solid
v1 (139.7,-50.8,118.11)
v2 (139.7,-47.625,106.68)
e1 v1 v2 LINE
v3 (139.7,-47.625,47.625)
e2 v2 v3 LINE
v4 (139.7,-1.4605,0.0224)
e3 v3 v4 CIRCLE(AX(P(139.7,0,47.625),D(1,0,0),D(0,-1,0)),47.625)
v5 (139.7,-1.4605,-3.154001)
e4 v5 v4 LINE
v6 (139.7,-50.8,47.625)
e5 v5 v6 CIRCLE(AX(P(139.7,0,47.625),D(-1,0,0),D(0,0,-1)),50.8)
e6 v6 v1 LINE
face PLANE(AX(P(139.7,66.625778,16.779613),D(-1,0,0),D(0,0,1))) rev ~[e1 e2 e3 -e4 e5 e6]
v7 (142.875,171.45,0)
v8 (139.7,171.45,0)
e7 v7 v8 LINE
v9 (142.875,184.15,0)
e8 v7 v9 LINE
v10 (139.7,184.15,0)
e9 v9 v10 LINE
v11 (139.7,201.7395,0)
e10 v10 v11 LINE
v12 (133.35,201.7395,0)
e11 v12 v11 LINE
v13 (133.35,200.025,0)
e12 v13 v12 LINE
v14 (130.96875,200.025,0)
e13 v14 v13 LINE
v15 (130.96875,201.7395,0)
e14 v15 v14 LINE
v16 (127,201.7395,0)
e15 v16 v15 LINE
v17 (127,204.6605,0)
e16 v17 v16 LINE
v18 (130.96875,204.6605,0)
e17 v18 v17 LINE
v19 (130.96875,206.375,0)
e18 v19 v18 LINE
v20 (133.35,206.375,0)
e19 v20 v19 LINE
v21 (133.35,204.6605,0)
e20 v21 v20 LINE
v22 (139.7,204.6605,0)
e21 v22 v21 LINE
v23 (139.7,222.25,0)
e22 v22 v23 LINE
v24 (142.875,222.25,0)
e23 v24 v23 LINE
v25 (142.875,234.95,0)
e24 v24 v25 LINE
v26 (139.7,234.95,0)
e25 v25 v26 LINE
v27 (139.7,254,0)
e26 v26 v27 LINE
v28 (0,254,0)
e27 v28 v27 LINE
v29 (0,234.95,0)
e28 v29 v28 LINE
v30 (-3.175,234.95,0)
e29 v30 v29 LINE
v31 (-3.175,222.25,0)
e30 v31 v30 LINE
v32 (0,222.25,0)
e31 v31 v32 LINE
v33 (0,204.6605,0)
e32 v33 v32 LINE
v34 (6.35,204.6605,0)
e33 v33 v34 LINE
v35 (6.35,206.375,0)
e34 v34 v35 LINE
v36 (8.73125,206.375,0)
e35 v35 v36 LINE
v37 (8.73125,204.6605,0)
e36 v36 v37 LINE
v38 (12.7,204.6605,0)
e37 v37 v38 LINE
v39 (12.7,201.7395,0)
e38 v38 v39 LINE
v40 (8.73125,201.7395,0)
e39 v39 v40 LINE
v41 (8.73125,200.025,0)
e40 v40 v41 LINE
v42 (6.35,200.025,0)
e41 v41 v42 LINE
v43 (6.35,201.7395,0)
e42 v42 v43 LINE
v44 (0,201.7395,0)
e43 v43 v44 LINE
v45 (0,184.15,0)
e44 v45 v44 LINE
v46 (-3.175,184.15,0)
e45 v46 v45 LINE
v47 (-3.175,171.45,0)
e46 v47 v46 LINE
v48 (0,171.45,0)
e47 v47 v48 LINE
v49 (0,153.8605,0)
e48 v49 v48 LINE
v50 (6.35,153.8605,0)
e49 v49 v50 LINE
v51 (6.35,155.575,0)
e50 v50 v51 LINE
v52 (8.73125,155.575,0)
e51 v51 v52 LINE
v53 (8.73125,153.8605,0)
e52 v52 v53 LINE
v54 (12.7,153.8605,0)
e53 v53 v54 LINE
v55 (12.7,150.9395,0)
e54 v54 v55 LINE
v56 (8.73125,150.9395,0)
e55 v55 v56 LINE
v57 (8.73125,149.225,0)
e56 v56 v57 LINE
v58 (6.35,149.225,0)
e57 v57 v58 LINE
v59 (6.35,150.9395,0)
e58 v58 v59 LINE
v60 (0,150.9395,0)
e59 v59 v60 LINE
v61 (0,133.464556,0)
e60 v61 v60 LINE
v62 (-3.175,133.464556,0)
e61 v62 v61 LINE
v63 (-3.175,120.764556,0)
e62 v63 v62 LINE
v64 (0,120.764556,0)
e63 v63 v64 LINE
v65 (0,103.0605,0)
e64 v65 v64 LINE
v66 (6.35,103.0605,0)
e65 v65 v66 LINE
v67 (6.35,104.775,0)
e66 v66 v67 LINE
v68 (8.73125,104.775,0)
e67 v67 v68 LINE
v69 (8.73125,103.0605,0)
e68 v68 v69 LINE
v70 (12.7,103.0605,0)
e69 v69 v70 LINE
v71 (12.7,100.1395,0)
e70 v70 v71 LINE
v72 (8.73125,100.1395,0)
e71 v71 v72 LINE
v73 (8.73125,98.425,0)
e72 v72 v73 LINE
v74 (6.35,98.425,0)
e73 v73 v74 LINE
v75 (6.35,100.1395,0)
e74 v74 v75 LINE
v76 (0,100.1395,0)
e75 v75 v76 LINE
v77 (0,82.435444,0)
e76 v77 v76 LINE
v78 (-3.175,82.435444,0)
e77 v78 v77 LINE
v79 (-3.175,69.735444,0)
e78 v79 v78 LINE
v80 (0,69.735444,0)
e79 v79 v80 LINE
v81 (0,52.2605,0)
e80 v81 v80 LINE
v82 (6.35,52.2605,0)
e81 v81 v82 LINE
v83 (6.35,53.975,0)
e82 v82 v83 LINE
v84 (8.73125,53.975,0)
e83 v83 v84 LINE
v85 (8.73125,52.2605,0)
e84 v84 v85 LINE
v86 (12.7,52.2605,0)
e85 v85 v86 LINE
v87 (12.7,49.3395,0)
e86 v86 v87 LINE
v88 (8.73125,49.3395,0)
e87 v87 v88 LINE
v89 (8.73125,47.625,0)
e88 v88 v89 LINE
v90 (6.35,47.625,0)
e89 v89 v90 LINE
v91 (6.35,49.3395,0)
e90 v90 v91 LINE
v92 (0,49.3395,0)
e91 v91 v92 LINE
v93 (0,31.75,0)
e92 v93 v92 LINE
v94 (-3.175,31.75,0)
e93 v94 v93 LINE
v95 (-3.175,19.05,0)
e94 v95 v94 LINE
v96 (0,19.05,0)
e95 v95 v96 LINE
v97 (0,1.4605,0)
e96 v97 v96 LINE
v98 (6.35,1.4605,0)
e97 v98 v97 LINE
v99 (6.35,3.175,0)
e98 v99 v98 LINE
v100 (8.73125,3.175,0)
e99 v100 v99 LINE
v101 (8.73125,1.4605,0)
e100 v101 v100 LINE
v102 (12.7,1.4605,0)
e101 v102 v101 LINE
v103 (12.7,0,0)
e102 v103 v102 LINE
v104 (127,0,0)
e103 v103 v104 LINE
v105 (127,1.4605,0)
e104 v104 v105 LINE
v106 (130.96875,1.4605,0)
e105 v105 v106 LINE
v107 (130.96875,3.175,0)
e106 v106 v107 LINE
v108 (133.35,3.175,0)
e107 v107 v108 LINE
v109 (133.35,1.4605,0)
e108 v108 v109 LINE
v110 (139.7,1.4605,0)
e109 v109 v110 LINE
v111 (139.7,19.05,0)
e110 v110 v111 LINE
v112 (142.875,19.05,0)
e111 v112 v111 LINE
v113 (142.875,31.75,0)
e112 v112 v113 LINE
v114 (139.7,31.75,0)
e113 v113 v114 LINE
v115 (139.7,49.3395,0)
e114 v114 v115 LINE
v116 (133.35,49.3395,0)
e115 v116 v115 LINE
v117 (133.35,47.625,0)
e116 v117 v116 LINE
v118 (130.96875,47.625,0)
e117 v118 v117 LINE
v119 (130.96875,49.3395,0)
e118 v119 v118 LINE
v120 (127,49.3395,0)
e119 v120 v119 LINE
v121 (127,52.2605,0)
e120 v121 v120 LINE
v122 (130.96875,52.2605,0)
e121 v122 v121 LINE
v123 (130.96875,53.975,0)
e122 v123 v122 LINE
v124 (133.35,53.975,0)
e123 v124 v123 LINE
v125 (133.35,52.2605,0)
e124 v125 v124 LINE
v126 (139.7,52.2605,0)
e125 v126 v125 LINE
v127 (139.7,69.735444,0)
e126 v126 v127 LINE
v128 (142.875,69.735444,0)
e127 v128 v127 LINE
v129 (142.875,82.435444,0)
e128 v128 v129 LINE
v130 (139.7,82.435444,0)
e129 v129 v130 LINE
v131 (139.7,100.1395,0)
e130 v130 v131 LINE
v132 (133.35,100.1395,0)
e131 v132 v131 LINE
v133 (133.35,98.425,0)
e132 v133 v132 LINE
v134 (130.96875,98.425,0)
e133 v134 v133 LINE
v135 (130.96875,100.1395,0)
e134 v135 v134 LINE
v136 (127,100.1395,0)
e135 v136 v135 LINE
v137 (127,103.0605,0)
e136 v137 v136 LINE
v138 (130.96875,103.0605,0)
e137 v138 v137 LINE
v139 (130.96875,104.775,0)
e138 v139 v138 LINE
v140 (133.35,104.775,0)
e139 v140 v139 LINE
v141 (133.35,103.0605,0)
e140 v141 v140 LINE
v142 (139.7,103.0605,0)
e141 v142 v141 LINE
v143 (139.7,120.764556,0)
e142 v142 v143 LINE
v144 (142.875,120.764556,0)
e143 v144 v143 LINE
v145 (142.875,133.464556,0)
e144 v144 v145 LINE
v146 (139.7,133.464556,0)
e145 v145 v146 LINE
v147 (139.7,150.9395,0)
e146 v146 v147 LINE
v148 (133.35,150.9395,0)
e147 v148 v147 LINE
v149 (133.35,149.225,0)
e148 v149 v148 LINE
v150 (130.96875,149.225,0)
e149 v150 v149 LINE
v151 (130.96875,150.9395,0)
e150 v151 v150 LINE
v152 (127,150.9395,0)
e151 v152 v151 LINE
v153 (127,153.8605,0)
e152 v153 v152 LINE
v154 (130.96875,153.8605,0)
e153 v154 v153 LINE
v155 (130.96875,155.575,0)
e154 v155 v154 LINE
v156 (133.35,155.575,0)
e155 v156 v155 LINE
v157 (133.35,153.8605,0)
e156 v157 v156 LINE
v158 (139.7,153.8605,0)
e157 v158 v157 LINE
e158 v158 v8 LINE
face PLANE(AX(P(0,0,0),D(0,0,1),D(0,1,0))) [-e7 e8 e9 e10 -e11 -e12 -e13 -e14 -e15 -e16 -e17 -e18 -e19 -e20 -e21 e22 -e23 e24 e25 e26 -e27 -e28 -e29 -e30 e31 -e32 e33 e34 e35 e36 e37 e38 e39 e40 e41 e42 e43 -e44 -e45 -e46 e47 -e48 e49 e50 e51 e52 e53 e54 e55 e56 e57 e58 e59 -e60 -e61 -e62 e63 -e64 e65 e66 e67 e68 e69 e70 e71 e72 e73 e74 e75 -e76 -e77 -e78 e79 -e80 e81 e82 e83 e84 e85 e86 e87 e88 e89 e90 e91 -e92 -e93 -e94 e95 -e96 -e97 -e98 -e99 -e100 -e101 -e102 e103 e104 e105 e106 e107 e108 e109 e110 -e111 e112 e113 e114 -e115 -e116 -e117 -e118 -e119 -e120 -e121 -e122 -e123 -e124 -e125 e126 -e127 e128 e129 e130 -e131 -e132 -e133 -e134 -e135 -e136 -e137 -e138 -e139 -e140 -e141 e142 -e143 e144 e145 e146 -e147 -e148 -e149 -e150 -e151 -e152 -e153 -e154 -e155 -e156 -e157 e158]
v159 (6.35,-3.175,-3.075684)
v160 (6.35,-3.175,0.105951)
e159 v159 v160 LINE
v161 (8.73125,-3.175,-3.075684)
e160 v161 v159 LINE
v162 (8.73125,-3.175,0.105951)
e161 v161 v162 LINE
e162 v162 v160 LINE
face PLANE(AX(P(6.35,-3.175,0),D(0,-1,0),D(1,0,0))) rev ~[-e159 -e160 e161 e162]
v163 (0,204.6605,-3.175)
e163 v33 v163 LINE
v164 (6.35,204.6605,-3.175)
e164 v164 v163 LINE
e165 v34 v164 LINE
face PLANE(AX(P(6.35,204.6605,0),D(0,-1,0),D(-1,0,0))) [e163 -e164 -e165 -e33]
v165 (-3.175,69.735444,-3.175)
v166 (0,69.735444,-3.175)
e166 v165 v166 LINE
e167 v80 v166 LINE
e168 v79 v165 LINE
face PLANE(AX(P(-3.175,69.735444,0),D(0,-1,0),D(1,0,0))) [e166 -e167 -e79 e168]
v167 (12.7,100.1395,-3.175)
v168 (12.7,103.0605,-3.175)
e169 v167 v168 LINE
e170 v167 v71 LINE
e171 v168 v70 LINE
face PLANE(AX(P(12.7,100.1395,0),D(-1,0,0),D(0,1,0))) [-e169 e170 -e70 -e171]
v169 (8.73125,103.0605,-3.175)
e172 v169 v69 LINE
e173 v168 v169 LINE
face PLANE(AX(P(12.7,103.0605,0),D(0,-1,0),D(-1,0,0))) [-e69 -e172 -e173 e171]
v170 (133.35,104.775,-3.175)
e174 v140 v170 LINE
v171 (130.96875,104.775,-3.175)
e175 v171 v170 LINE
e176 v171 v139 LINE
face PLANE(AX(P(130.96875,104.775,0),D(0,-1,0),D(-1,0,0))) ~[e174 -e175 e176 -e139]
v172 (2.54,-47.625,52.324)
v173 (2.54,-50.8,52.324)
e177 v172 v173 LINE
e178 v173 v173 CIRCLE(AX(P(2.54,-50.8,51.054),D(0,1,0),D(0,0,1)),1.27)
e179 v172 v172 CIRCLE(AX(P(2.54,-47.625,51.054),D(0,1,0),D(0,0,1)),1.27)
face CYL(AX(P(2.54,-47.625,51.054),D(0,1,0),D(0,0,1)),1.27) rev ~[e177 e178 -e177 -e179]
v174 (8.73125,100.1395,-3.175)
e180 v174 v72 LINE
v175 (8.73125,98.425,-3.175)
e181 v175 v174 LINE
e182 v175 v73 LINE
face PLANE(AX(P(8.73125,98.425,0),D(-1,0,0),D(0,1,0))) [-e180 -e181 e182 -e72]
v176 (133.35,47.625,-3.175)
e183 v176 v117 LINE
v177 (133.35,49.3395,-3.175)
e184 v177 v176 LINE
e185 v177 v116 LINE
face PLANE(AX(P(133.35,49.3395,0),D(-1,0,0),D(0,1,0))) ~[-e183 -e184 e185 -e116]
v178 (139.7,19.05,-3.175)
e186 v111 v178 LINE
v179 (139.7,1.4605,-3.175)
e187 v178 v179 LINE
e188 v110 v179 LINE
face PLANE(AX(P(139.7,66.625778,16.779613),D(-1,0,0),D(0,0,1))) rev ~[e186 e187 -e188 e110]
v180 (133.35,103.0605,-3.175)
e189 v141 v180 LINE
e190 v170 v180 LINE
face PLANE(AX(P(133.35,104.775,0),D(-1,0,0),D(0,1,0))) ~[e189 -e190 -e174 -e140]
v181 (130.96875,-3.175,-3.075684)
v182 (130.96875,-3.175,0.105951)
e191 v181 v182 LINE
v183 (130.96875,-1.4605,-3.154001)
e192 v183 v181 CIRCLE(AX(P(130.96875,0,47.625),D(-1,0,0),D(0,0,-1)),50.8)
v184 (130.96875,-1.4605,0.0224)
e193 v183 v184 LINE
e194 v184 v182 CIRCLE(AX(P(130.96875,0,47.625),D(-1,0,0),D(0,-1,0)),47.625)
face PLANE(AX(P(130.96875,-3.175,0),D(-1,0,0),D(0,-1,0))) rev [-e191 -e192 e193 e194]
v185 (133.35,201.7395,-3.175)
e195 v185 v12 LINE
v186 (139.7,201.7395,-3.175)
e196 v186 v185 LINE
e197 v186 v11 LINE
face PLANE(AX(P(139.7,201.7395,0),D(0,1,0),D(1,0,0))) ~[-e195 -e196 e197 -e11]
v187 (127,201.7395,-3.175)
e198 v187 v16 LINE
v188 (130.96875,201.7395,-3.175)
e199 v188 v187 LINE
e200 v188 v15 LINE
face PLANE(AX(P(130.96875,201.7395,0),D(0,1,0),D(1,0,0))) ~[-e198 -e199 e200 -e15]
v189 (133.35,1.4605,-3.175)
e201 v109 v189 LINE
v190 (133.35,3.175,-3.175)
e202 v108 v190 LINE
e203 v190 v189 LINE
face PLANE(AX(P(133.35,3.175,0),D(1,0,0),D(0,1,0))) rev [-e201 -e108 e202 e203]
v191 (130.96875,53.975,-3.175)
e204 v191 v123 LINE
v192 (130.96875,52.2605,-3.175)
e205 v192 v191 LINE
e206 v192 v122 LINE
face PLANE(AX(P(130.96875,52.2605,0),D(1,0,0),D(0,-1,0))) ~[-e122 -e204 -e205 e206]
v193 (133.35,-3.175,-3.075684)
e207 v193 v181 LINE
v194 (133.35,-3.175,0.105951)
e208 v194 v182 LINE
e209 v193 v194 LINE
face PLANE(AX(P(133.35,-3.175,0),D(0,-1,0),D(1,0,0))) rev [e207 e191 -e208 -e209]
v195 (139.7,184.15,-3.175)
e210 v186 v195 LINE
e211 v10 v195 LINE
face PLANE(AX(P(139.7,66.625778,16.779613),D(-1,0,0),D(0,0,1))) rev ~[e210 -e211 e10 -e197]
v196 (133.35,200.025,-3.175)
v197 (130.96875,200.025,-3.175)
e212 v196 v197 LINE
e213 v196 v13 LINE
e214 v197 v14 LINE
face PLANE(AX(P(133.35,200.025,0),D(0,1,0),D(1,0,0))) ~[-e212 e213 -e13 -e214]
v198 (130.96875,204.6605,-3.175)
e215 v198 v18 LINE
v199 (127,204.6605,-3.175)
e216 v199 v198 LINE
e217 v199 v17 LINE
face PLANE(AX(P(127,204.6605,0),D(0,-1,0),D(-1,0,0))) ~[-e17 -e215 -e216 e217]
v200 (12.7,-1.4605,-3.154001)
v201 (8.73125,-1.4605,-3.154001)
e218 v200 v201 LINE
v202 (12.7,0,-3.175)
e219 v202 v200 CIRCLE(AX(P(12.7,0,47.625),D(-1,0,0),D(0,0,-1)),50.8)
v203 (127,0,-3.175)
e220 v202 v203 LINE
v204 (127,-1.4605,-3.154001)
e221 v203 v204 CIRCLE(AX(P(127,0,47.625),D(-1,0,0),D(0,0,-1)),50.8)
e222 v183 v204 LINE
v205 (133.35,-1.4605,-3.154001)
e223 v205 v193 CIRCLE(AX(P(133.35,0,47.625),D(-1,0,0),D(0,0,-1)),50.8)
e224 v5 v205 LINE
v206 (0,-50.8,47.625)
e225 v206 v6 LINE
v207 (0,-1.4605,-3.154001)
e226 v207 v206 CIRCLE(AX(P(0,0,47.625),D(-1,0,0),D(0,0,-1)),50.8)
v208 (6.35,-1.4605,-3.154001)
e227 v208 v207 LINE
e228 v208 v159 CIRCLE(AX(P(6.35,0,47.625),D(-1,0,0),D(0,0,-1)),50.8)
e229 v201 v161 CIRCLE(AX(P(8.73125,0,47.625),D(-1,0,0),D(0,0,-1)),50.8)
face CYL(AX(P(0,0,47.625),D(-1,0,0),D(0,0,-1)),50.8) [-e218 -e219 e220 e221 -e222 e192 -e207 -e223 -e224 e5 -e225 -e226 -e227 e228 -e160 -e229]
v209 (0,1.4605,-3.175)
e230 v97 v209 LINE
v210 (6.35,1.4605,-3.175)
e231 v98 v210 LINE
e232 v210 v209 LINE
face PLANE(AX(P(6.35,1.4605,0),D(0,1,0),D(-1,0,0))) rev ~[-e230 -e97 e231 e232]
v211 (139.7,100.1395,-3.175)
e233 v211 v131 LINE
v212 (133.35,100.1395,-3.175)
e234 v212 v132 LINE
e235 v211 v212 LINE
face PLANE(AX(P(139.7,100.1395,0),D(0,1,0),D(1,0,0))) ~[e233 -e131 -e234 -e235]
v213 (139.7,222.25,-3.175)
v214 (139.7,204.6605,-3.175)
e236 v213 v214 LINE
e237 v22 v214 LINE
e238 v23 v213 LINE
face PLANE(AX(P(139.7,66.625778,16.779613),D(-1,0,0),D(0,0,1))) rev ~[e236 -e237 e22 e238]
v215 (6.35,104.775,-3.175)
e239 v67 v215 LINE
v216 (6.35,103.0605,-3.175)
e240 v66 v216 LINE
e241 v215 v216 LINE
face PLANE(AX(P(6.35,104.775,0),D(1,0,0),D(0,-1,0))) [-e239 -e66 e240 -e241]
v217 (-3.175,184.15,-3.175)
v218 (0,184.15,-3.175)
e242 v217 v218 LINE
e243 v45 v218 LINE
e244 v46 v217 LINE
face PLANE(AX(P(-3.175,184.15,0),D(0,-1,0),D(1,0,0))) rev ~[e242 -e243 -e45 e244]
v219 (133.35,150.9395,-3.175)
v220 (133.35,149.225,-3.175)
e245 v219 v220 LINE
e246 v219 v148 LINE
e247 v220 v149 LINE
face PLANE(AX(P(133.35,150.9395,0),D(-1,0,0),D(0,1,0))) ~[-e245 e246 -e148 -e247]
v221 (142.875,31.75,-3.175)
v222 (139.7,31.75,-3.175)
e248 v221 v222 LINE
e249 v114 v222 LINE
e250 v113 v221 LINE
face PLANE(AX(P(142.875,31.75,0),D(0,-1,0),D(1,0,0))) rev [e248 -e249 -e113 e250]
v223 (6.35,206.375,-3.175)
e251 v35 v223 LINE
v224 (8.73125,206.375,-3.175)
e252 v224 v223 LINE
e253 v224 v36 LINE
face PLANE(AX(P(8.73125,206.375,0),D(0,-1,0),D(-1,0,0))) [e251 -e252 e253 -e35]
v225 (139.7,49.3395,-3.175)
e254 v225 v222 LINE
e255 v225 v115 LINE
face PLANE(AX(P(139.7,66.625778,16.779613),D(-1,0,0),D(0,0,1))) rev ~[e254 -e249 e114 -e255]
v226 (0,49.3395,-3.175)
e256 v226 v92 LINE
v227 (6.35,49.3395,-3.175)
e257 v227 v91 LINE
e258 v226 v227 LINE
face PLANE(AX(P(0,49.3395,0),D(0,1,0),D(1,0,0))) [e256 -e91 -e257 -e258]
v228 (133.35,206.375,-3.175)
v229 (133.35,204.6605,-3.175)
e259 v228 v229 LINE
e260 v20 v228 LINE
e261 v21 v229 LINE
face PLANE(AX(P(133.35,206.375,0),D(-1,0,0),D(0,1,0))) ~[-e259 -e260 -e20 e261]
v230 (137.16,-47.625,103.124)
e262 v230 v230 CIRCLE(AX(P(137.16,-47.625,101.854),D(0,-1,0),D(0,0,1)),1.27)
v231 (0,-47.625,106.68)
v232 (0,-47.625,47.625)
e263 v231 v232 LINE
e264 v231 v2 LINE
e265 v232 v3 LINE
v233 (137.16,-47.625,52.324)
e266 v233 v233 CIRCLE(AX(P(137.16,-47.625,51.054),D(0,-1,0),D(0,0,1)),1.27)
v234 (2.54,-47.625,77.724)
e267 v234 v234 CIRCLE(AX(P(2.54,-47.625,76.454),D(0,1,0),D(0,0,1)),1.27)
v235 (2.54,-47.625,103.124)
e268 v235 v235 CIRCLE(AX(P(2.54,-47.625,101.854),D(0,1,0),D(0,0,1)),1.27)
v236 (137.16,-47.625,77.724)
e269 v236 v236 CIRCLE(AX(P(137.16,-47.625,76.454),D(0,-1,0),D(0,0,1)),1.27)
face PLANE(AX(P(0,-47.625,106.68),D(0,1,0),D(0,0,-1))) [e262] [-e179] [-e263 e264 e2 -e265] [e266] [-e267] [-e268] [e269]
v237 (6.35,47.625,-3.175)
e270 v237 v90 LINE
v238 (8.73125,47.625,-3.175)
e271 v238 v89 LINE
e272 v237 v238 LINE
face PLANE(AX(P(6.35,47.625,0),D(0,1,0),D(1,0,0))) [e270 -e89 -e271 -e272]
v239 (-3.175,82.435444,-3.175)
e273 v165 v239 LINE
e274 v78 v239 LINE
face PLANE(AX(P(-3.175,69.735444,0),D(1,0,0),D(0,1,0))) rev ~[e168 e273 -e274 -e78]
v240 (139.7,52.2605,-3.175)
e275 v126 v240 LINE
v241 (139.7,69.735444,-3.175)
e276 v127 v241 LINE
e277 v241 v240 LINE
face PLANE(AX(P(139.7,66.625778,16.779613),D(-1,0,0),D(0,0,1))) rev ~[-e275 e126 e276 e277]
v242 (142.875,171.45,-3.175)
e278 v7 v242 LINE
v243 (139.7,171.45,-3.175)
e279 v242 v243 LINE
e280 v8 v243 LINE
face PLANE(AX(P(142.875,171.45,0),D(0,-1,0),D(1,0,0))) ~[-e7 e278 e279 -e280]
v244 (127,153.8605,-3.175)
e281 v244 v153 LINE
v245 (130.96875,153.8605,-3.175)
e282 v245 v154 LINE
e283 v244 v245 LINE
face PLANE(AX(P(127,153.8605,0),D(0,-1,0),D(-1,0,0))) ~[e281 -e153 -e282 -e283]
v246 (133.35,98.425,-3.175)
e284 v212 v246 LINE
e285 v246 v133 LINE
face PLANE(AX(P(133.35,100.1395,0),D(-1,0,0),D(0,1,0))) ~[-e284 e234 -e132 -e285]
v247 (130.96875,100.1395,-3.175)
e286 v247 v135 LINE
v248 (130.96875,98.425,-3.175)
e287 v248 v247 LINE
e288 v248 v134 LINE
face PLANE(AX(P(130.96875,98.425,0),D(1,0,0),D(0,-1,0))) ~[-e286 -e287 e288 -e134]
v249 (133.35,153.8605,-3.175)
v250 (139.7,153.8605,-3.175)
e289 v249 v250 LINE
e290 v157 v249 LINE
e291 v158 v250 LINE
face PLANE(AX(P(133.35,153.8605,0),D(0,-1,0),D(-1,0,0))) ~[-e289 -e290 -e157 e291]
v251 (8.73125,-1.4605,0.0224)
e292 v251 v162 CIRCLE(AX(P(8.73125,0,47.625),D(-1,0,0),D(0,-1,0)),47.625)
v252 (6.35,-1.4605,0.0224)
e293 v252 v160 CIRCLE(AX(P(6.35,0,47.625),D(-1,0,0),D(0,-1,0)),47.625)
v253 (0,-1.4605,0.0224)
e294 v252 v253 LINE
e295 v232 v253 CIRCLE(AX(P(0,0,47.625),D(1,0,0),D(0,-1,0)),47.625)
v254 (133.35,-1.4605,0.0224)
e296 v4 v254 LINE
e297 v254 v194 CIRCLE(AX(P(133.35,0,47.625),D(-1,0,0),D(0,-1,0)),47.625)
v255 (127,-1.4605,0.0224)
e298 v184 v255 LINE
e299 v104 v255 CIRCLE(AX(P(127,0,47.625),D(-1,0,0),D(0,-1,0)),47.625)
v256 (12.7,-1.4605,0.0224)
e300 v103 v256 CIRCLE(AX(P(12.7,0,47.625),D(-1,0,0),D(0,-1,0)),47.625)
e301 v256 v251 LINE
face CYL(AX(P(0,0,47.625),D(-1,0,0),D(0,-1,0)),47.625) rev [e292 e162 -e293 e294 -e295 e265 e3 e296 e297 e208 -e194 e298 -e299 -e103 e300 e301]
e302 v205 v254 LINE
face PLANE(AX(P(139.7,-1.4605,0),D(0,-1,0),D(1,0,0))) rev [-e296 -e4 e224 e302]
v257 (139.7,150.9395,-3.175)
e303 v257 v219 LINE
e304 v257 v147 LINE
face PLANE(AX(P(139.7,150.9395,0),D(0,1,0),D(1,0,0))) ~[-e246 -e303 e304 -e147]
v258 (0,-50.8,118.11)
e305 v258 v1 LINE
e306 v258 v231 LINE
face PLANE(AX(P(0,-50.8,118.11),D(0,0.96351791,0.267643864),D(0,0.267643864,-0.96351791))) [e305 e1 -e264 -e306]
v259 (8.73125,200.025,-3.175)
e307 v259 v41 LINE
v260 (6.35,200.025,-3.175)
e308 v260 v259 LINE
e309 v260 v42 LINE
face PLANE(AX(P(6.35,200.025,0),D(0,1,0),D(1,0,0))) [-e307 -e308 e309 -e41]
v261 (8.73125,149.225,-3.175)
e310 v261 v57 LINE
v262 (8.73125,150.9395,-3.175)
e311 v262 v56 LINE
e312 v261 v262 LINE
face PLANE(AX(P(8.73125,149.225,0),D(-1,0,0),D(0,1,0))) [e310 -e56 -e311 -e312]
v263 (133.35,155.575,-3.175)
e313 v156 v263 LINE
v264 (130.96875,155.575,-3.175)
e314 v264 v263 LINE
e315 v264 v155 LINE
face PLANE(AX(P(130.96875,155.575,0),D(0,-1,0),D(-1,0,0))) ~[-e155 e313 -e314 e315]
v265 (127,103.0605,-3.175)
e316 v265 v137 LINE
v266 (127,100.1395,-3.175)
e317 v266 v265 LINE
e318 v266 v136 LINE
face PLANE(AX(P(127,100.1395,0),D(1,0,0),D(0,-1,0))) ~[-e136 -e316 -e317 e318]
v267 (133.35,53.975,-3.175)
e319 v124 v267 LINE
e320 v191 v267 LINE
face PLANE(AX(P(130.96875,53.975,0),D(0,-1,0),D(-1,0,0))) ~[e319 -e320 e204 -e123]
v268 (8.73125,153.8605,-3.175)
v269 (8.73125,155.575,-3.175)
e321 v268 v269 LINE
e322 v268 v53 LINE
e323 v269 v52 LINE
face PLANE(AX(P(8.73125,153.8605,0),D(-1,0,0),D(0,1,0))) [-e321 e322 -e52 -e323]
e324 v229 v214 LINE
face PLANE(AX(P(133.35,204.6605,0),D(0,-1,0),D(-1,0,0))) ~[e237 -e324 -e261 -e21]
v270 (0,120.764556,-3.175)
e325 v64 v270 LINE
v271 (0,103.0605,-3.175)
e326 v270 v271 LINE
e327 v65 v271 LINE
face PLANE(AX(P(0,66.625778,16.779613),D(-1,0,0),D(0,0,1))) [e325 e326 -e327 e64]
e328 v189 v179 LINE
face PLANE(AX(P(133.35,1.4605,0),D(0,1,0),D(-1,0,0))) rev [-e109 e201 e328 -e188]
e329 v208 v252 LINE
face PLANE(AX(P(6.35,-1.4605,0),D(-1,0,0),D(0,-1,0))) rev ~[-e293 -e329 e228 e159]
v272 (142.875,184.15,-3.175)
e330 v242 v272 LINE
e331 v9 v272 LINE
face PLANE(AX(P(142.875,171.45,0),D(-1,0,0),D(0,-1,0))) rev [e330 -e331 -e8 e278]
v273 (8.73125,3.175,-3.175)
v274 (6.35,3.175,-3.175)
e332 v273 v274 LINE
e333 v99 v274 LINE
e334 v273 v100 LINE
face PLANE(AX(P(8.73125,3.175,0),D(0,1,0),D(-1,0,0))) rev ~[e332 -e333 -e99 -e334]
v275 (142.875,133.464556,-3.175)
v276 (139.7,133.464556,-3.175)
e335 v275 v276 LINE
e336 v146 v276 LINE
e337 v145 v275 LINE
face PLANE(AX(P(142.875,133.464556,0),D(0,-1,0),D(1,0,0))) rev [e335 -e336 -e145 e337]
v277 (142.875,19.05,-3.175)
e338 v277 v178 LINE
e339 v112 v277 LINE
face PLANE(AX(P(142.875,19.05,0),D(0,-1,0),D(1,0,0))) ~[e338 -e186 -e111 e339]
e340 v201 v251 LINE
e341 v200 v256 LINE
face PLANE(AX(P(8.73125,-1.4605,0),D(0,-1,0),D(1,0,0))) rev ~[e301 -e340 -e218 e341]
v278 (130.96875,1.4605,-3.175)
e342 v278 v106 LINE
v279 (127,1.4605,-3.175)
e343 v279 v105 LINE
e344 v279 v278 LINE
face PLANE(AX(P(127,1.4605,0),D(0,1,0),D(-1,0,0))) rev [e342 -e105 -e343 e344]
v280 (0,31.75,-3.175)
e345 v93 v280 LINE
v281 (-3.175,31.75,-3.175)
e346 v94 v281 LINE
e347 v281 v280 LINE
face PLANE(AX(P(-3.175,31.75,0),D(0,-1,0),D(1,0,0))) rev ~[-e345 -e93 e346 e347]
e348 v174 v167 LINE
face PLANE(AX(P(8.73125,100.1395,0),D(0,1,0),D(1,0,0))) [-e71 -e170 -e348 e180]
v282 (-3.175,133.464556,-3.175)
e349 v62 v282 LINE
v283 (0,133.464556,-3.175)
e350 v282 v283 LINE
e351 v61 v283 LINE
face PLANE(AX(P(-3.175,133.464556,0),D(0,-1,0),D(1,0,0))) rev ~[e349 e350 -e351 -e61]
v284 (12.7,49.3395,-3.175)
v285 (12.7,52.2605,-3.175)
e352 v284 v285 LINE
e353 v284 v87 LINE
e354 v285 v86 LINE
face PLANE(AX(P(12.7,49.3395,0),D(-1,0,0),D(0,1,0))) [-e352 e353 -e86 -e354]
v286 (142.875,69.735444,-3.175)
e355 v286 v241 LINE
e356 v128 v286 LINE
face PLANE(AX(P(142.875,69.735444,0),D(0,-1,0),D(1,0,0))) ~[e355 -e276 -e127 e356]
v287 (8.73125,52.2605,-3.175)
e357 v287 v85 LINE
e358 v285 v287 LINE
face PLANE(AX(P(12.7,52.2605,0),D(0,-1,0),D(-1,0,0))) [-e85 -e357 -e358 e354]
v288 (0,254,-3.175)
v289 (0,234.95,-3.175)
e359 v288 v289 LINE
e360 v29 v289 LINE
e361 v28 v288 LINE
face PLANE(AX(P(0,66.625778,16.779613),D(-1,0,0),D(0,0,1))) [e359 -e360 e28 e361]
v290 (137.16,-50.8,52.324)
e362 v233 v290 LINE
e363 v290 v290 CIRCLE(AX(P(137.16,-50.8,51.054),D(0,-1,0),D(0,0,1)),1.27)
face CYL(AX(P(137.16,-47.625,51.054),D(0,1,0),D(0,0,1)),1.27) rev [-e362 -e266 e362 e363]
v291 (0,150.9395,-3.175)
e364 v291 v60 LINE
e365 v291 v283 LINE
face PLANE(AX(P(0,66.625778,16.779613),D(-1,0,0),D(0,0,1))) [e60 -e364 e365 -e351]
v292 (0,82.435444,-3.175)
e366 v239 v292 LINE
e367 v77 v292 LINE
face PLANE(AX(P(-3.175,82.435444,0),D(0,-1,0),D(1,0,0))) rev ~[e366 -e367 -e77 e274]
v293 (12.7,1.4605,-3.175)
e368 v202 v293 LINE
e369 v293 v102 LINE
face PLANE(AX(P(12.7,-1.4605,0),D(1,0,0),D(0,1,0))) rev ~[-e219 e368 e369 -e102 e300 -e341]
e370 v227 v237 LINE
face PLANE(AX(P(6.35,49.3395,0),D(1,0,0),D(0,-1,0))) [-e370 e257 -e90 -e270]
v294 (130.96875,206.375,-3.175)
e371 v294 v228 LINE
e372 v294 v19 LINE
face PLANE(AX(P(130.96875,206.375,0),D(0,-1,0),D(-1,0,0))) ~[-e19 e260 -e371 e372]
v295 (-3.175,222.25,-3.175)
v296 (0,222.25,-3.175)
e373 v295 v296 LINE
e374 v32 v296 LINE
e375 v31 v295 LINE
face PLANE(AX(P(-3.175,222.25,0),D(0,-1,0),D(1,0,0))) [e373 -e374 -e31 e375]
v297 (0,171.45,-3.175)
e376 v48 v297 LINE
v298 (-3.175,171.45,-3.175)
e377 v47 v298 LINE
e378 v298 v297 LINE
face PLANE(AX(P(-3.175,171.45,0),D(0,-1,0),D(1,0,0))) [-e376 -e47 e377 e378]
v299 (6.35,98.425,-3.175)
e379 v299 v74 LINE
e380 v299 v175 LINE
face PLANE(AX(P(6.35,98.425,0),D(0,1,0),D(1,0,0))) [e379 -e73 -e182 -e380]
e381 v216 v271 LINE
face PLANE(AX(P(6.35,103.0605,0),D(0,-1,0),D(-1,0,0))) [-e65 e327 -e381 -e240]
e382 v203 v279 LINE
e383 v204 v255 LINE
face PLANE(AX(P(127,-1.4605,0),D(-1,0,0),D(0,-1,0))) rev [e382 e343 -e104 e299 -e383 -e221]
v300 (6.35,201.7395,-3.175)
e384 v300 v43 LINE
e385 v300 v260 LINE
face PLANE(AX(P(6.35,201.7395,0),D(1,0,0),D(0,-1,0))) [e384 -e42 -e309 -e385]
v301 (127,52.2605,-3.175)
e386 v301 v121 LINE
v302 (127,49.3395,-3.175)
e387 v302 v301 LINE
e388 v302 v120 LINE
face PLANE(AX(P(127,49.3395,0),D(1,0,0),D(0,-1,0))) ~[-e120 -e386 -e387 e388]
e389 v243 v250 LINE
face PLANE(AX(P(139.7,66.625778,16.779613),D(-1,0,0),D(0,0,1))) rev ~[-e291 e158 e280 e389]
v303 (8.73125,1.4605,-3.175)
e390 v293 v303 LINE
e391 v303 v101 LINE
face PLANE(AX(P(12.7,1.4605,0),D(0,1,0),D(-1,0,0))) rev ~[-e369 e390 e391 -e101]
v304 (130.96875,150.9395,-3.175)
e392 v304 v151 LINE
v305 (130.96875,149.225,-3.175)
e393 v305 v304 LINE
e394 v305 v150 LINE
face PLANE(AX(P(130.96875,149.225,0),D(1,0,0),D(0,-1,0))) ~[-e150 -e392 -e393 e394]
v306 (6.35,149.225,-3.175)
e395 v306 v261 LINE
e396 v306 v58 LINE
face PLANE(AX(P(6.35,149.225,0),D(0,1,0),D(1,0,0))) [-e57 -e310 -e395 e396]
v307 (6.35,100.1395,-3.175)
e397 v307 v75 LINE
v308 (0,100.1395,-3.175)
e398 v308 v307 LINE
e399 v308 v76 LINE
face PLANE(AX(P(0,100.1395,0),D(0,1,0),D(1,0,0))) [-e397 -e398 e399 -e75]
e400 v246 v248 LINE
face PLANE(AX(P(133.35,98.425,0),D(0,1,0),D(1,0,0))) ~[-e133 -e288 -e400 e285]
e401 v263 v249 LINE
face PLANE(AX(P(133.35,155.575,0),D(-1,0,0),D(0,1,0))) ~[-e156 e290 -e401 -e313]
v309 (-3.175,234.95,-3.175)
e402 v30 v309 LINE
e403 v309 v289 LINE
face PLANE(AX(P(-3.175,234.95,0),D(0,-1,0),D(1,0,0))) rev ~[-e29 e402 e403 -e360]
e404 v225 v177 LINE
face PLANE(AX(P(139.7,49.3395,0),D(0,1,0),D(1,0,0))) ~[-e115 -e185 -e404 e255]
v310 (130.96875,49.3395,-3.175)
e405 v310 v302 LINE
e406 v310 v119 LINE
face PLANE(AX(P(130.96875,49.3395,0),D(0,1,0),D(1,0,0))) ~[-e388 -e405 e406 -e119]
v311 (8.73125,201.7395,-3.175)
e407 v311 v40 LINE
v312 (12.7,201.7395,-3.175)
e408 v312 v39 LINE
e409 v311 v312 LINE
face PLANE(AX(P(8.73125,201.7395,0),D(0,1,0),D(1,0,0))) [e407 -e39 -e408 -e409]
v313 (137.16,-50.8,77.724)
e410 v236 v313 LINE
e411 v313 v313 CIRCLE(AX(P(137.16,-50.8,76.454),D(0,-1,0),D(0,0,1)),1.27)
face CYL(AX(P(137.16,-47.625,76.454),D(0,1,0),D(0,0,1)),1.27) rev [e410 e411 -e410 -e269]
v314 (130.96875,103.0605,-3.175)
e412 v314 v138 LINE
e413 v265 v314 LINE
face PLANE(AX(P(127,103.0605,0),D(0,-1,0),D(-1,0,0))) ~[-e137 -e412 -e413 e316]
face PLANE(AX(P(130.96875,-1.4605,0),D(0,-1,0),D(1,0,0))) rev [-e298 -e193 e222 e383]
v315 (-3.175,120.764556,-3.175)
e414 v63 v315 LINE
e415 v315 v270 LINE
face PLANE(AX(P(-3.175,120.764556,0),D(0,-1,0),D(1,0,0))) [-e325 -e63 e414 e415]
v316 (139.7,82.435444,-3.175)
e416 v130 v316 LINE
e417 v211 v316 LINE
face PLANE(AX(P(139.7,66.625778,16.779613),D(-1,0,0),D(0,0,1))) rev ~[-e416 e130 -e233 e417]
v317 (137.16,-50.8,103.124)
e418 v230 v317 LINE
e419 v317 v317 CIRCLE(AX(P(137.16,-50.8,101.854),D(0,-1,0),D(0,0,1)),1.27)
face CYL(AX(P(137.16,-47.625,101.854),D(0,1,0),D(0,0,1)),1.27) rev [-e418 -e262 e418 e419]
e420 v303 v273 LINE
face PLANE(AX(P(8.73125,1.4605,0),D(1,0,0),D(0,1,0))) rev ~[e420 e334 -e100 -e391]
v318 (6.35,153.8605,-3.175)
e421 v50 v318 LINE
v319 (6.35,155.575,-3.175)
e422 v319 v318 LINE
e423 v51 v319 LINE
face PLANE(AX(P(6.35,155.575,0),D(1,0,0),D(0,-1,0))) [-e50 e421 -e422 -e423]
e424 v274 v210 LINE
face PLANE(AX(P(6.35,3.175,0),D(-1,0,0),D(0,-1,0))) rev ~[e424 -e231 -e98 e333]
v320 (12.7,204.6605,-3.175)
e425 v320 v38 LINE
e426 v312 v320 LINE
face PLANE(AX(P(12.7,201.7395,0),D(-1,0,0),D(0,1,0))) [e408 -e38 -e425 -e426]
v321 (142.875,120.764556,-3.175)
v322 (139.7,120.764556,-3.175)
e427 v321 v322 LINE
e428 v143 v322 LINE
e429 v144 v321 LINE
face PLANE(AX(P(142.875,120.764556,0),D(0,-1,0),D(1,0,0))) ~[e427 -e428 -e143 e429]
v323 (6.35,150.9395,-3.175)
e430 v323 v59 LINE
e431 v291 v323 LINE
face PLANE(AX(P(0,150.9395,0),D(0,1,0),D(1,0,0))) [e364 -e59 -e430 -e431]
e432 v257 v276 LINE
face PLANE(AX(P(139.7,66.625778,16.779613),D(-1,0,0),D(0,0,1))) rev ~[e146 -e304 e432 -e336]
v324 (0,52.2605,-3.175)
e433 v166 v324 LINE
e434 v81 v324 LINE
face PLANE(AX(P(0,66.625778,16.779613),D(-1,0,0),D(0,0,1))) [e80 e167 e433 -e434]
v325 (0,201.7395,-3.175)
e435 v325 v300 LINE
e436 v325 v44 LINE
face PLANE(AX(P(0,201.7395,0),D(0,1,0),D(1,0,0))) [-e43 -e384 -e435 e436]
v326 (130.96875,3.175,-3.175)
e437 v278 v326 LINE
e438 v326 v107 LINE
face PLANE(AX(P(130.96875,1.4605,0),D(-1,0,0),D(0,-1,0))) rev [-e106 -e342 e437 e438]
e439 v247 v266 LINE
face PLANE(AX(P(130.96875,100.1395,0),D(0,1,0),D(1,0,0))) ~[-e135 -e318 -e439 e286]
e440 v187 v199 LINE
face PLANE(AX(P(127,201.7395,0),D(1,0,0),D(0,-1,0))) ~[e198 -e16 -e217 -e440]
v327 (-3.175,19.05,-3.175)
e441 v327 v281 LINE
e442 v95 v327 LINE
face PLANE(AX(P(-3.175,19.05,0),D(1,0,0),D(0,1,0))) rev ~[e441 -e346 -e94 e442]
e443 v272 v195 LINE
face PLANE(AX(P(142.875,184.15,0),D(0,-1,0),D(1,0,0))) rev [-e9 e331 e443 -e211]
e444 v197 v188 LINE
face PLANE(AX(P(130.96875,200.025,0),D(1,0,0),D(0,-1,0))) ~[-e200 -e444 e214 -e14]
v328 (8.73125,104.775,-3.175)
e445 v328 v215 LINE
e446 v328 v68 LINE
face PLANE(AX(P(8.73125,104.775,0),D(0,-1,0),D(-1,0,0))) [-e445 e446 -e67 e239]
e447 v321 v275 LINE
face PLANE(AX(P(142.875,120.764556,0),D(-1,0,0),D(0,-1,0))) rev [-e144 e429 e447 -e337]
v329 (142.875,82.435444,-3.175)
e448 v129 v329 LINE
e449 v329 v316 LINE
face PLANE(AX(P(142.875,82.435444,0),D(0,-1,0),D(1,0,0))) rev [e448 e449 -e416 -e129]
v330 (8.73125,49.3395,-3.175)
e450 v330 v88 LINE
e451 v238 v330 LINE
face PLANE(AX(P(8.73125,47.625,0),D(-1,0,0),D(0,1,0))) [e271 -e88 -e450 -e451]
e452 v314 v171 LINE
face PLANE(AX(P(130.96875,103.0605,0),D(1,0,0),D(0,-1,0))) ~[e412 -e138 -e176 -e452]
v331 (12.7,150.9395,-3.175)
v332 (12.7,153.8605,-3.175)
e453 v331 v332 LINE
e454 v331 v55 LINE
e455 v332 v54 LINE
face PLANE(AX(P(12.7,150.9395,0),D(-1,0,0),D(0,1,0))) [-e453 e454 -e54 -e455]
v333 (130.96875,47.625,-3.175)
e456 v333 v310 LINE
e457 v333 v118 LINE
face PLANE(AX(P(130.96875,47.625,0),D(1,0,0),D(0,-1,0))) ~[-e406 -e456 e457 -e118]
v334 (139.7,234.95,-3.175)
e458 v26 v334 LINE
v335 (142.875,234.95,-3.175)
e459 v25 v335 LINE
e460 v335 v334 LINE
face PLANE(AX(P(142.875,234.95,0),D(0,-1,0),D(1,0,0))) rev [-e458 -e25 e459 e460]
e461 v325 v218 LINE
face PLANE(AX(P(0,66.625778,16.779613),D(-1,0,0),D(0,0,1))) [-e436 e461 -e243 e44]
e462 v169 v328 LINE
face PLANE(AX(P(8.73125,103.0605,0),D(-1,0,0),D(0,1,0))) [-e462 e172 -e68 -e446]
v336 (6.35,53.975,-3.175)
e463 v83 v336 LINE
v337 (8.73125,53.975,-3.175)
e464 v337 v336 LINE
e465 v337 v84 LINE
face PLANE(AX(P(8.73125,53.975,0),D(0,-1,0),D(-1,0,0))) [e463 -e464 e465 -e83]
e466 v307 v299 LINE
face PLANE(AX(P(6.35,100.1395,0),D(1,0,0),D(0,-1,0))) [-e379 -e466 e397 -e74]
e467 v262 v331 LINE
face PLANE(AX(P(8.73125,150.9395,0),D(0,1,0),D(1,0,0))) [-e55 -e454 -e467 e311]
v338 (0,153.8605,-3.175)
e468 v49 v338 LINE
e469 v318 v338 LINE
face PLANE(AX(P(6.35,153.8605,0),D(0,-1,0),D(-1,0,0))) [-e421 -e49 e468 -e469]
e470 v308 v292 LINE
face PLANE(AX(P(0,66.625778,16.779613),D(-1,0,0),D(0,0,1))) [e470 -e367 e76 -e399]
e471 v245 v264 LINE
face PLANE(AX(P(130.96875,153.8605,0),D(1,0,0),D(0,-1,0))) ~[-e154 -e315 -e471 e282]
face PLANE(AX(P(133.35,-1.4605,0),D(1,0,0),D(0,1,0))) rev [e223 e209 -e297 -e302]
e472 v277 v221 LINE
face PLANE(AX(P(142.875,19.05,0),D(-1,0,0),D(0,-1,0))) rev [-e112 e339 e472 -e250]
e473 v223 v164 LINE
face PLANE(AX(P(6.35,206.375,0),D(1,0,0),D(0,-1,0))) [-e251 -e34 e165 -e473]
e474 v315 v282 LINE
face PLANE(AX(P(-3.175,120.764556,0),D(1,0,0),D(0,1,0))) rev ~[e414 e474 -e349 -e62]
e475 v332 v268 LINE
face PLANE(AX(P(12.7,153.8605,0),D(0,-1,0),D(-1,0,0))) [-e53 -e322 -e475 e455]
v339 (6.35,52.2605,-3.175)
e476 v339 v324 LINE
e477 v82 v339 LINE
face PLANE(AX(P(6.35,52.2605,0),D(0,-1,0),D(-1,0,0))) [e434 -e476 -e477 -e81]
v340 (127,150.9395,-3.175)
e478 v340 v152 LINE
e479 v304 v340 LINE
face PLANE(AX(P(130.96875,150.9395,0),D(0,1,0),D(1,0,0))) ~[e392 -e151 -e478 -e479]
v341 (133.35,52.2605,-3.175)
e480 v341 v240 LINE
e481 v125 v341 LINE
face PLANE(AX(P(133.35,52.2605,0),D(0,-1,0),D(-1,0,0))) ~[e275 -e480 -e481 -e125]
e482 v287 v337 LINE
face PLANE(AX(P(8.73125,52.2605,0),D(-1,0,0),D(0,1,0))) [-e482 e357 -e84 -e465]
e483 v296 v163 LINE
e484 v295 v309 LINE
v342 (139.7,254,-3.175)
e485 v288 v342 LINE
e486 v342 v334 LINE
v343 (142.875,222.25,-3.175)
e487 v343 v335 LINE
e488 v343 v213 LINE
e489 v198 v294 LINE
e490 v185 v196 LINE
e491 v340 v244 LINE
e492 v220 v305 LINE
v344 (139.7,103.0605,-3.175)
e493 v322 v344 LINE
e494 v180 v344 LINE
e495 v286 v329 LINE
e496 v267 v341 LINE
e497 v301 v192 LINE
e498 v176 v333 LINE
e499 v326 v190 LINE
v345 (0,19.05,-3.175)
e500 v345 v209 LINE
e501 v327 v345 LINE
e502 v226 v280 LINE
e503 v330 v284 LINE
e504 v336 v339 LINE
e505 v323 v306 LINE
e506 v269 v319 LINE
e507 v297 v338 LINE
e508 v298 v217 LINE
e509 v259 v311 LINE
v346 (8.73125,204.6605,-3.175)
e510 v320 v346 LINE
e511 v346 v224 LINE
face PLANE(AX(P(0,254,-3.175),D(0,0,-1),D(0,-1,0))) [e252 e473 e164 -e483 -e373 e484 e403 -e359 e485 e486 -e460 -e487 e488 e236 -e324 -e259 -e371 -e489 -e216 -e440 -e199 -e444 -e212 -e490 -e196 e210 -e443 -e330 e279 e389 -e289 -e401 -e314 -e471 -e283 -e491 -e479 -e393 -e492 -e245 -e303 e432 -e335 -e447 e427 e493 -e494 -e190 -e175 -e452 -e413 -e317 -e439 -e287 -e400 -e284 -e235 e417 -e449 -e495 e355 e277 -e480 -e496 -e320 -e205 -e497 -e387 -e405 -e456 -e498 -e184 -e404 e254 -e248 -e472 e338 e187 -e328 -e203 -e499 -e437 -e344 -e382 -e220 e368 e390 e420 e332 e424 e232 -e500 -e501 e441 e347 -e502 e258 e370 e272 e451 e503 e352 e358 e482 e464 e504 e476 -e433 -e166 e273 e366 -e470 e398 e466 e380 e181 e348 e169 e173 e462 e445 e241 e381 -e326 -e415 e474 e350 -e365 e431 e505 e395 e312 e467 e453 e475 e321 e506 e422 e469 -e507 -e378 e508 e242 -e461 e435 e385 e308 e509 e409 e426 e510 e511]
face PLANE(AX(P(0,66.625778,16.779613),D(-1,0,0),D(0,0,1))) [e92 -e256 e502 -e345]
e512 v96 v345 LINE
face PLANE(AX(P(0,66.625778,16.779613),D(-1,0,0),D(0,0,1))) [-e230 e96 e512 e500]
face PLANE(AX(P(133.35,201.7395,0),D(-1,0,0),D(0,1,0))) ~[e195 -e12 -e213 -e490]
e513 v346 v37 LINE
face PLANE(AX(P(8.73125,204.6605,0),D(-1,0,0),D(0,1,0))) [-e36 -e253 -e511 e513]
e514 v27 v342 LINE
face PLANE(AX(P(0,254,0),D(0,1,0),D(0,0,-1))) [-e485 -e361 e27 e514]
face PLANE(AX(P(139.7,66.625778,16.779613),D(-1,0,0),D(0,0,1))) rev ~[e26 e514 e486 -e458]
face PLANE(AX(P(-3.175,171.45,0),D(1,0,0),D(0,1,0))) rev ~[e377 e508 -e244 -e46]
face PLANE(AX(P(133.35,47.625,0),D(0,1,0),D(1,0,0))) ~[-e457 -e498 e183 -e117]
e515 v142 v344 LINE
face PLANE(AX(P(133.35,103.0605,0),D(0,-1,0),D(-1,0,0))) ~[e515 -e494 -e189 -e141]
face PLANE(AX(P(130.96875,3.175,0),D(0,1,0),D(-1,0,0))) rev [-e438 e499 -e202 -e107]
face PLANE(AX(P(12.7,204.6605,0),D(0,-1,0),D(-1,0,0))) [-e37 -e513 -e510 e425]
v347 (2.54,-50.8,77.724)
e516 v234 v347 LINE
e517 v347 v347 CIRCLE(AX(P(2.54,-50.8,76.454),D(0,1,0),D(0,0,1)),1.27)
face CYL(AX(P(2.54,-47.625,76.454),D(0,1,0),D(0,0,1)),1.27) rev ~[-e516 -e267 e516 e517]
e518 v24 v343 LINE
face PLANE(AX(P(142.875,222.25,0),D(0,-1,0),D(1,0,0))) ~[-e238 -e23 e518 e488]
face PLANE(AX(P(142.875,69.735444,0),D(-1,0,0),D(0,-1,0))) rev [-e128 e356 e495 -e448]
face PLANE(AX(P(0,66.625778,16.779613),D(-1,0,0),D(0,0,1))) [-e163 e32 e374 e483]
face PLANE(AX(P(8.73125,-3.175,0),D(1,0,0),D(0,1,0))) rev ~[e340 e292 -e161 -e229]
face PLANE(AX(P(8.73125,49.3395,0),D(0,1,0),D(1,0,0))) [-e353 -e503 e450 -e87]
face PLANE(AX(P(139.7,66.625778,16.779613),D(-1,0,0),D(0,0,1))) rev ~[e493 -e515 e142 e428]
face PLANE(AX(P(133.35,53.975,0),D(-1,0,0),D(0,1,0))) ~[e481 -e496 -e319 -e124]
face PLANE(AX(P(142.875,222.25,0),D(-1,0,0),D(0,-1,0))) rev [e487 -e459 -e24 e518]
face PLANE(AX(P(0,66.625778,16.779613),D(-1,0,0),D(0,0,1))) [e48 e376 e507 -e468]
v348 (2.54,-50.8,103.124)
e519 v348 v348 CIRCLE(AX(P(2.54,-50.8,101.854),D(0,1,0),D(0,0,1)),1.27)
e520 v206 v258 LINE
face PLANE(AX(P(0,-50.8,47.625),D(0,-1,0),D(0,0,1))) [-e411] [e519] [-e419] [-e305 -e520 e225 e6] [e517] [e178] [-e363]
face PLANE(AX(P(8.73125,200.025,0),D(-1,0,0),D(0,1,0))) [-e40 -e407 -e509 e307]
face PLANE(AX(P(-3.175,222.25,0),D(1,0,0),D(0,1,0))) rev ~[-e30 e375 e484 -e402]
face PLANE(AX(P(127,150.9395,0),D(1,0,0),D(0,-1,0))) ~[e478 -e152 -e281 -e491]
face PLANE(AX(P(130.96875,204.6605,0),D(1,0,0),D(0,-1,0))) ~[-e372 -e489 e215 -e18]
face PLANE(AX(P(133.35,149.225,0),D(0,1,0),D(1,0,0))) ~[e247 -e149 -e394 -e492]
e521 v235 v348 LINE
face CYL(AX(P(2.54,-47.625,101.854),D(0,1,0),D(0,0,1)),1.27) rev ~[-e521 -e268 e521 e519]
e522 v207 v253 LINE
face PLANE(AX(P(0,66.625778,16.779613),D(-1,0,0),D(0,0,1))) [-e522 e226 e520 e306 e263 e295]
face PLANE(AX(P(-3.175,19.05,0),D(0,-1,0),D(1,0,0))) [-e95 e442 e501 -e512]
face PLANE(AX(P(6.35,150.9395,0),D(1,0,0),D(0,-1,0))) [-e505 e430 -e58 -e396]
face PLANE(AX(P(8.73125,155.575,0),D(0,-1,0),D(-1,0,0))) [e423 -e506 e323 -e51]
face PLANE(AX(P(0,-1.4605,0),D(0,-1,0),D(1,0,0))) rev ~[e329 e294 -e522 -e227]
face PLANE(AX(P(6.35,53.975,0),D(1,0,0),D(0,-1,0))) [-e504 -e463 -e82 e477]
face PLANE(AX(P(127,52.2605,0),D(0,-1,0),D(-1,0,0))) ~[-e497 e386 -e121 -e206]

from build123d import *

# Parameters (mm, degrees)
BOSS_EXTRUDE1_DEPTH = 139.7
CUT_EXTRUDE1_DEPTH  = 3.175
SKETCH5_W           = 3.175
SKETCH5_H           = 12.7
BOSS_EXTRUDE2_DEPTH = 3.175
SKETCH8_R           = 1.27
CUT_EXTRUDE2_DEPTH  = 3.175


with BuildPart() as part:
    # Sketch1 → Boss-Extrude1 (new body)
    with BuildSketch(Plane(origin=(0, 0, 0), x_dir=(0, 0, -1), z_dir=(1, 0, 0))):
        with BuildLine():
            Line((-118.11, -50.8), (-106.68, -47.625))
            Line((-106.68, -47.625), (-47.625, -47.625))
            ThreePointArc((-47.625, -47.625), (-13.949039546, -33.675960454), (0, 0))
            Line((0, 0), (0, 254))
            Line((0, 254), (3.175, 254))
            Line((3.175, 254), (3.175, 0))
            ThreePointArc((3.175, 0), (-11.703975516, -35.921024484), (-47.625, -50.8))
            Line((-47.625, -50.8), (-118.11, -50.8))
        make_face()
    extrude(amount=BOSS_EXTRUDE1_DEPTH)

    # Sketch4 → Cut-Extrude1 (cut, symmetric)
    with BuildSketch(Plane.XY):
        Polygon((0, 204.6605), (0, 201.7395), (6.35, 201.7395), (6.35, 200.025), (8.73125, 200.025), (8.73125, 201.7395), (12.7, 201.7395), (12.7, 203.2), (12.7, 204.6605), (8.73125, 204.6605), (8.73125, 206.375), (6.35, 206.375), (6.35, 204.6605), align=None)
        Polygon((0, 153.8605), (0, 150.9395), (6.35, 150.9395), (6.35, 149.225), (8.73125, 149.225), (8.73125, 150.9395), (12.7, 150.9395), (12.7, 152.4), (12.7, 153.8605), (8.73125, 153.8605), (8.73125, 155.575), (6.35, 155.575), (6.35, 153.8605), align=None)
        Polygon((0, 103.0605), (0, 100.1395), (6.35, 100.1395), (6.35, 98.425), (8.73125, 98.425), (8.73125, 100.1395), (12.7, 100.1395), (12.7, 101.6), (12.7, 103.0605), (8.73125, 103.0605), (8.73125, 104.775), (6.35, 104.775), (6.35, 103.0605), align=None)
        Polygon((0, 52.2605), (0, 49.3395), (6.35, 49.3395), (6.35, 47.625), (8.73125, 47.625), (8.73125, 49.3395), (12.7, 49.3395), (12.7, 50.8), (12.7, 52.2605), (8.73125, 52.2605), (8.73125, 53.975), (6.35, 53.975), (6.35, 52.2605), align=None)
        Polygon((0, 1.4605), (0, -1.4605), (6.35, -1.4605), (6.35, -3.175), (8.73125, -3.175), (8.73125, -1.4605), (12.7, -1.4605), (12.7, 0), (12.7, 1.4605), (8.73125, 1.4605), (8.73125, 3.175), (6.35, 3.175), (6.35, 1.4605), align=None)
    cut_extrude1 = extrude(amount=CUT_EXTRUDE1_DEPTH, both=True, mode=Mode.SUBTRACT)

    # Sketch5 → Boss-Extrude2 (add)
    with BuildSketch(Plane.XY):
        with Locations((-1.5875, 228.6)):
            Rectangle(SKETCH5_W, SKETCH5_H)
        with Locations((-1.5875, 177.8)):
            Rectangle(SKETCH5_W, SKETCH5_H)
        with Locations((-1.5875, 25.4)):
            Rectangle(SKETCH5_W, SKETCH5_H)
        with Locations((-1.5875, 76.085444403)):
            Rectangle(SKETCH5_W, SKETCH5_H)
        with Locations((-1.5875, 127.114555597)):
            Rectangle(SKETCH5_W, SKETCH5_H)
    boss_extrude2 = extrude(amount=-BOSS_EXTRUDE2_DEPTH)

    # Mirror1: Cut-Extrude1, Boss-Extrude2 across plane
    add(cut_extrude1.mirror(Plane(origin=(69.85, 0, 0), x_dir=(0, 0, 1), z_dir=(1, 0, 0))), mode=Mode.SUBTRACT)
    add(boss_extrude2.mirror(Plane(origin=(69.85, 0, 0), x_dir=(0, 0, 1), z_dir=(1, 0, 0))))

    # Sketch8 → Cut-Extrude2 (cut)
    with BuildSketch(Plane(origin=(0, -47.625, 0), x_dir=(1, 0, 0), z_dir=(0, 1, 0))):
        with Locations((2.54, -51.054)):
            Circle(SKETCH8_R)
        with Locations((2.54, -76.454)):
            Circle(SKETCH8_R)
        with Locations((2.54, -101.854)):
            Circle(SKETCH8_R)
    cut_extrude2 = extrude(amount=-CUT_EXTRUDE2_DEPTH, mode=Mode.SUBTRACT)

    # Mirror2: Cut-Extrude2 across plane
    add(cut_extrude2.mirror(Plane(origin=(69.85, 0, 0), x_dir=(0, 0, 1), z_dir=(1, 0, 0))), mode=Mode.SUBTRACT)


solid = part.part
